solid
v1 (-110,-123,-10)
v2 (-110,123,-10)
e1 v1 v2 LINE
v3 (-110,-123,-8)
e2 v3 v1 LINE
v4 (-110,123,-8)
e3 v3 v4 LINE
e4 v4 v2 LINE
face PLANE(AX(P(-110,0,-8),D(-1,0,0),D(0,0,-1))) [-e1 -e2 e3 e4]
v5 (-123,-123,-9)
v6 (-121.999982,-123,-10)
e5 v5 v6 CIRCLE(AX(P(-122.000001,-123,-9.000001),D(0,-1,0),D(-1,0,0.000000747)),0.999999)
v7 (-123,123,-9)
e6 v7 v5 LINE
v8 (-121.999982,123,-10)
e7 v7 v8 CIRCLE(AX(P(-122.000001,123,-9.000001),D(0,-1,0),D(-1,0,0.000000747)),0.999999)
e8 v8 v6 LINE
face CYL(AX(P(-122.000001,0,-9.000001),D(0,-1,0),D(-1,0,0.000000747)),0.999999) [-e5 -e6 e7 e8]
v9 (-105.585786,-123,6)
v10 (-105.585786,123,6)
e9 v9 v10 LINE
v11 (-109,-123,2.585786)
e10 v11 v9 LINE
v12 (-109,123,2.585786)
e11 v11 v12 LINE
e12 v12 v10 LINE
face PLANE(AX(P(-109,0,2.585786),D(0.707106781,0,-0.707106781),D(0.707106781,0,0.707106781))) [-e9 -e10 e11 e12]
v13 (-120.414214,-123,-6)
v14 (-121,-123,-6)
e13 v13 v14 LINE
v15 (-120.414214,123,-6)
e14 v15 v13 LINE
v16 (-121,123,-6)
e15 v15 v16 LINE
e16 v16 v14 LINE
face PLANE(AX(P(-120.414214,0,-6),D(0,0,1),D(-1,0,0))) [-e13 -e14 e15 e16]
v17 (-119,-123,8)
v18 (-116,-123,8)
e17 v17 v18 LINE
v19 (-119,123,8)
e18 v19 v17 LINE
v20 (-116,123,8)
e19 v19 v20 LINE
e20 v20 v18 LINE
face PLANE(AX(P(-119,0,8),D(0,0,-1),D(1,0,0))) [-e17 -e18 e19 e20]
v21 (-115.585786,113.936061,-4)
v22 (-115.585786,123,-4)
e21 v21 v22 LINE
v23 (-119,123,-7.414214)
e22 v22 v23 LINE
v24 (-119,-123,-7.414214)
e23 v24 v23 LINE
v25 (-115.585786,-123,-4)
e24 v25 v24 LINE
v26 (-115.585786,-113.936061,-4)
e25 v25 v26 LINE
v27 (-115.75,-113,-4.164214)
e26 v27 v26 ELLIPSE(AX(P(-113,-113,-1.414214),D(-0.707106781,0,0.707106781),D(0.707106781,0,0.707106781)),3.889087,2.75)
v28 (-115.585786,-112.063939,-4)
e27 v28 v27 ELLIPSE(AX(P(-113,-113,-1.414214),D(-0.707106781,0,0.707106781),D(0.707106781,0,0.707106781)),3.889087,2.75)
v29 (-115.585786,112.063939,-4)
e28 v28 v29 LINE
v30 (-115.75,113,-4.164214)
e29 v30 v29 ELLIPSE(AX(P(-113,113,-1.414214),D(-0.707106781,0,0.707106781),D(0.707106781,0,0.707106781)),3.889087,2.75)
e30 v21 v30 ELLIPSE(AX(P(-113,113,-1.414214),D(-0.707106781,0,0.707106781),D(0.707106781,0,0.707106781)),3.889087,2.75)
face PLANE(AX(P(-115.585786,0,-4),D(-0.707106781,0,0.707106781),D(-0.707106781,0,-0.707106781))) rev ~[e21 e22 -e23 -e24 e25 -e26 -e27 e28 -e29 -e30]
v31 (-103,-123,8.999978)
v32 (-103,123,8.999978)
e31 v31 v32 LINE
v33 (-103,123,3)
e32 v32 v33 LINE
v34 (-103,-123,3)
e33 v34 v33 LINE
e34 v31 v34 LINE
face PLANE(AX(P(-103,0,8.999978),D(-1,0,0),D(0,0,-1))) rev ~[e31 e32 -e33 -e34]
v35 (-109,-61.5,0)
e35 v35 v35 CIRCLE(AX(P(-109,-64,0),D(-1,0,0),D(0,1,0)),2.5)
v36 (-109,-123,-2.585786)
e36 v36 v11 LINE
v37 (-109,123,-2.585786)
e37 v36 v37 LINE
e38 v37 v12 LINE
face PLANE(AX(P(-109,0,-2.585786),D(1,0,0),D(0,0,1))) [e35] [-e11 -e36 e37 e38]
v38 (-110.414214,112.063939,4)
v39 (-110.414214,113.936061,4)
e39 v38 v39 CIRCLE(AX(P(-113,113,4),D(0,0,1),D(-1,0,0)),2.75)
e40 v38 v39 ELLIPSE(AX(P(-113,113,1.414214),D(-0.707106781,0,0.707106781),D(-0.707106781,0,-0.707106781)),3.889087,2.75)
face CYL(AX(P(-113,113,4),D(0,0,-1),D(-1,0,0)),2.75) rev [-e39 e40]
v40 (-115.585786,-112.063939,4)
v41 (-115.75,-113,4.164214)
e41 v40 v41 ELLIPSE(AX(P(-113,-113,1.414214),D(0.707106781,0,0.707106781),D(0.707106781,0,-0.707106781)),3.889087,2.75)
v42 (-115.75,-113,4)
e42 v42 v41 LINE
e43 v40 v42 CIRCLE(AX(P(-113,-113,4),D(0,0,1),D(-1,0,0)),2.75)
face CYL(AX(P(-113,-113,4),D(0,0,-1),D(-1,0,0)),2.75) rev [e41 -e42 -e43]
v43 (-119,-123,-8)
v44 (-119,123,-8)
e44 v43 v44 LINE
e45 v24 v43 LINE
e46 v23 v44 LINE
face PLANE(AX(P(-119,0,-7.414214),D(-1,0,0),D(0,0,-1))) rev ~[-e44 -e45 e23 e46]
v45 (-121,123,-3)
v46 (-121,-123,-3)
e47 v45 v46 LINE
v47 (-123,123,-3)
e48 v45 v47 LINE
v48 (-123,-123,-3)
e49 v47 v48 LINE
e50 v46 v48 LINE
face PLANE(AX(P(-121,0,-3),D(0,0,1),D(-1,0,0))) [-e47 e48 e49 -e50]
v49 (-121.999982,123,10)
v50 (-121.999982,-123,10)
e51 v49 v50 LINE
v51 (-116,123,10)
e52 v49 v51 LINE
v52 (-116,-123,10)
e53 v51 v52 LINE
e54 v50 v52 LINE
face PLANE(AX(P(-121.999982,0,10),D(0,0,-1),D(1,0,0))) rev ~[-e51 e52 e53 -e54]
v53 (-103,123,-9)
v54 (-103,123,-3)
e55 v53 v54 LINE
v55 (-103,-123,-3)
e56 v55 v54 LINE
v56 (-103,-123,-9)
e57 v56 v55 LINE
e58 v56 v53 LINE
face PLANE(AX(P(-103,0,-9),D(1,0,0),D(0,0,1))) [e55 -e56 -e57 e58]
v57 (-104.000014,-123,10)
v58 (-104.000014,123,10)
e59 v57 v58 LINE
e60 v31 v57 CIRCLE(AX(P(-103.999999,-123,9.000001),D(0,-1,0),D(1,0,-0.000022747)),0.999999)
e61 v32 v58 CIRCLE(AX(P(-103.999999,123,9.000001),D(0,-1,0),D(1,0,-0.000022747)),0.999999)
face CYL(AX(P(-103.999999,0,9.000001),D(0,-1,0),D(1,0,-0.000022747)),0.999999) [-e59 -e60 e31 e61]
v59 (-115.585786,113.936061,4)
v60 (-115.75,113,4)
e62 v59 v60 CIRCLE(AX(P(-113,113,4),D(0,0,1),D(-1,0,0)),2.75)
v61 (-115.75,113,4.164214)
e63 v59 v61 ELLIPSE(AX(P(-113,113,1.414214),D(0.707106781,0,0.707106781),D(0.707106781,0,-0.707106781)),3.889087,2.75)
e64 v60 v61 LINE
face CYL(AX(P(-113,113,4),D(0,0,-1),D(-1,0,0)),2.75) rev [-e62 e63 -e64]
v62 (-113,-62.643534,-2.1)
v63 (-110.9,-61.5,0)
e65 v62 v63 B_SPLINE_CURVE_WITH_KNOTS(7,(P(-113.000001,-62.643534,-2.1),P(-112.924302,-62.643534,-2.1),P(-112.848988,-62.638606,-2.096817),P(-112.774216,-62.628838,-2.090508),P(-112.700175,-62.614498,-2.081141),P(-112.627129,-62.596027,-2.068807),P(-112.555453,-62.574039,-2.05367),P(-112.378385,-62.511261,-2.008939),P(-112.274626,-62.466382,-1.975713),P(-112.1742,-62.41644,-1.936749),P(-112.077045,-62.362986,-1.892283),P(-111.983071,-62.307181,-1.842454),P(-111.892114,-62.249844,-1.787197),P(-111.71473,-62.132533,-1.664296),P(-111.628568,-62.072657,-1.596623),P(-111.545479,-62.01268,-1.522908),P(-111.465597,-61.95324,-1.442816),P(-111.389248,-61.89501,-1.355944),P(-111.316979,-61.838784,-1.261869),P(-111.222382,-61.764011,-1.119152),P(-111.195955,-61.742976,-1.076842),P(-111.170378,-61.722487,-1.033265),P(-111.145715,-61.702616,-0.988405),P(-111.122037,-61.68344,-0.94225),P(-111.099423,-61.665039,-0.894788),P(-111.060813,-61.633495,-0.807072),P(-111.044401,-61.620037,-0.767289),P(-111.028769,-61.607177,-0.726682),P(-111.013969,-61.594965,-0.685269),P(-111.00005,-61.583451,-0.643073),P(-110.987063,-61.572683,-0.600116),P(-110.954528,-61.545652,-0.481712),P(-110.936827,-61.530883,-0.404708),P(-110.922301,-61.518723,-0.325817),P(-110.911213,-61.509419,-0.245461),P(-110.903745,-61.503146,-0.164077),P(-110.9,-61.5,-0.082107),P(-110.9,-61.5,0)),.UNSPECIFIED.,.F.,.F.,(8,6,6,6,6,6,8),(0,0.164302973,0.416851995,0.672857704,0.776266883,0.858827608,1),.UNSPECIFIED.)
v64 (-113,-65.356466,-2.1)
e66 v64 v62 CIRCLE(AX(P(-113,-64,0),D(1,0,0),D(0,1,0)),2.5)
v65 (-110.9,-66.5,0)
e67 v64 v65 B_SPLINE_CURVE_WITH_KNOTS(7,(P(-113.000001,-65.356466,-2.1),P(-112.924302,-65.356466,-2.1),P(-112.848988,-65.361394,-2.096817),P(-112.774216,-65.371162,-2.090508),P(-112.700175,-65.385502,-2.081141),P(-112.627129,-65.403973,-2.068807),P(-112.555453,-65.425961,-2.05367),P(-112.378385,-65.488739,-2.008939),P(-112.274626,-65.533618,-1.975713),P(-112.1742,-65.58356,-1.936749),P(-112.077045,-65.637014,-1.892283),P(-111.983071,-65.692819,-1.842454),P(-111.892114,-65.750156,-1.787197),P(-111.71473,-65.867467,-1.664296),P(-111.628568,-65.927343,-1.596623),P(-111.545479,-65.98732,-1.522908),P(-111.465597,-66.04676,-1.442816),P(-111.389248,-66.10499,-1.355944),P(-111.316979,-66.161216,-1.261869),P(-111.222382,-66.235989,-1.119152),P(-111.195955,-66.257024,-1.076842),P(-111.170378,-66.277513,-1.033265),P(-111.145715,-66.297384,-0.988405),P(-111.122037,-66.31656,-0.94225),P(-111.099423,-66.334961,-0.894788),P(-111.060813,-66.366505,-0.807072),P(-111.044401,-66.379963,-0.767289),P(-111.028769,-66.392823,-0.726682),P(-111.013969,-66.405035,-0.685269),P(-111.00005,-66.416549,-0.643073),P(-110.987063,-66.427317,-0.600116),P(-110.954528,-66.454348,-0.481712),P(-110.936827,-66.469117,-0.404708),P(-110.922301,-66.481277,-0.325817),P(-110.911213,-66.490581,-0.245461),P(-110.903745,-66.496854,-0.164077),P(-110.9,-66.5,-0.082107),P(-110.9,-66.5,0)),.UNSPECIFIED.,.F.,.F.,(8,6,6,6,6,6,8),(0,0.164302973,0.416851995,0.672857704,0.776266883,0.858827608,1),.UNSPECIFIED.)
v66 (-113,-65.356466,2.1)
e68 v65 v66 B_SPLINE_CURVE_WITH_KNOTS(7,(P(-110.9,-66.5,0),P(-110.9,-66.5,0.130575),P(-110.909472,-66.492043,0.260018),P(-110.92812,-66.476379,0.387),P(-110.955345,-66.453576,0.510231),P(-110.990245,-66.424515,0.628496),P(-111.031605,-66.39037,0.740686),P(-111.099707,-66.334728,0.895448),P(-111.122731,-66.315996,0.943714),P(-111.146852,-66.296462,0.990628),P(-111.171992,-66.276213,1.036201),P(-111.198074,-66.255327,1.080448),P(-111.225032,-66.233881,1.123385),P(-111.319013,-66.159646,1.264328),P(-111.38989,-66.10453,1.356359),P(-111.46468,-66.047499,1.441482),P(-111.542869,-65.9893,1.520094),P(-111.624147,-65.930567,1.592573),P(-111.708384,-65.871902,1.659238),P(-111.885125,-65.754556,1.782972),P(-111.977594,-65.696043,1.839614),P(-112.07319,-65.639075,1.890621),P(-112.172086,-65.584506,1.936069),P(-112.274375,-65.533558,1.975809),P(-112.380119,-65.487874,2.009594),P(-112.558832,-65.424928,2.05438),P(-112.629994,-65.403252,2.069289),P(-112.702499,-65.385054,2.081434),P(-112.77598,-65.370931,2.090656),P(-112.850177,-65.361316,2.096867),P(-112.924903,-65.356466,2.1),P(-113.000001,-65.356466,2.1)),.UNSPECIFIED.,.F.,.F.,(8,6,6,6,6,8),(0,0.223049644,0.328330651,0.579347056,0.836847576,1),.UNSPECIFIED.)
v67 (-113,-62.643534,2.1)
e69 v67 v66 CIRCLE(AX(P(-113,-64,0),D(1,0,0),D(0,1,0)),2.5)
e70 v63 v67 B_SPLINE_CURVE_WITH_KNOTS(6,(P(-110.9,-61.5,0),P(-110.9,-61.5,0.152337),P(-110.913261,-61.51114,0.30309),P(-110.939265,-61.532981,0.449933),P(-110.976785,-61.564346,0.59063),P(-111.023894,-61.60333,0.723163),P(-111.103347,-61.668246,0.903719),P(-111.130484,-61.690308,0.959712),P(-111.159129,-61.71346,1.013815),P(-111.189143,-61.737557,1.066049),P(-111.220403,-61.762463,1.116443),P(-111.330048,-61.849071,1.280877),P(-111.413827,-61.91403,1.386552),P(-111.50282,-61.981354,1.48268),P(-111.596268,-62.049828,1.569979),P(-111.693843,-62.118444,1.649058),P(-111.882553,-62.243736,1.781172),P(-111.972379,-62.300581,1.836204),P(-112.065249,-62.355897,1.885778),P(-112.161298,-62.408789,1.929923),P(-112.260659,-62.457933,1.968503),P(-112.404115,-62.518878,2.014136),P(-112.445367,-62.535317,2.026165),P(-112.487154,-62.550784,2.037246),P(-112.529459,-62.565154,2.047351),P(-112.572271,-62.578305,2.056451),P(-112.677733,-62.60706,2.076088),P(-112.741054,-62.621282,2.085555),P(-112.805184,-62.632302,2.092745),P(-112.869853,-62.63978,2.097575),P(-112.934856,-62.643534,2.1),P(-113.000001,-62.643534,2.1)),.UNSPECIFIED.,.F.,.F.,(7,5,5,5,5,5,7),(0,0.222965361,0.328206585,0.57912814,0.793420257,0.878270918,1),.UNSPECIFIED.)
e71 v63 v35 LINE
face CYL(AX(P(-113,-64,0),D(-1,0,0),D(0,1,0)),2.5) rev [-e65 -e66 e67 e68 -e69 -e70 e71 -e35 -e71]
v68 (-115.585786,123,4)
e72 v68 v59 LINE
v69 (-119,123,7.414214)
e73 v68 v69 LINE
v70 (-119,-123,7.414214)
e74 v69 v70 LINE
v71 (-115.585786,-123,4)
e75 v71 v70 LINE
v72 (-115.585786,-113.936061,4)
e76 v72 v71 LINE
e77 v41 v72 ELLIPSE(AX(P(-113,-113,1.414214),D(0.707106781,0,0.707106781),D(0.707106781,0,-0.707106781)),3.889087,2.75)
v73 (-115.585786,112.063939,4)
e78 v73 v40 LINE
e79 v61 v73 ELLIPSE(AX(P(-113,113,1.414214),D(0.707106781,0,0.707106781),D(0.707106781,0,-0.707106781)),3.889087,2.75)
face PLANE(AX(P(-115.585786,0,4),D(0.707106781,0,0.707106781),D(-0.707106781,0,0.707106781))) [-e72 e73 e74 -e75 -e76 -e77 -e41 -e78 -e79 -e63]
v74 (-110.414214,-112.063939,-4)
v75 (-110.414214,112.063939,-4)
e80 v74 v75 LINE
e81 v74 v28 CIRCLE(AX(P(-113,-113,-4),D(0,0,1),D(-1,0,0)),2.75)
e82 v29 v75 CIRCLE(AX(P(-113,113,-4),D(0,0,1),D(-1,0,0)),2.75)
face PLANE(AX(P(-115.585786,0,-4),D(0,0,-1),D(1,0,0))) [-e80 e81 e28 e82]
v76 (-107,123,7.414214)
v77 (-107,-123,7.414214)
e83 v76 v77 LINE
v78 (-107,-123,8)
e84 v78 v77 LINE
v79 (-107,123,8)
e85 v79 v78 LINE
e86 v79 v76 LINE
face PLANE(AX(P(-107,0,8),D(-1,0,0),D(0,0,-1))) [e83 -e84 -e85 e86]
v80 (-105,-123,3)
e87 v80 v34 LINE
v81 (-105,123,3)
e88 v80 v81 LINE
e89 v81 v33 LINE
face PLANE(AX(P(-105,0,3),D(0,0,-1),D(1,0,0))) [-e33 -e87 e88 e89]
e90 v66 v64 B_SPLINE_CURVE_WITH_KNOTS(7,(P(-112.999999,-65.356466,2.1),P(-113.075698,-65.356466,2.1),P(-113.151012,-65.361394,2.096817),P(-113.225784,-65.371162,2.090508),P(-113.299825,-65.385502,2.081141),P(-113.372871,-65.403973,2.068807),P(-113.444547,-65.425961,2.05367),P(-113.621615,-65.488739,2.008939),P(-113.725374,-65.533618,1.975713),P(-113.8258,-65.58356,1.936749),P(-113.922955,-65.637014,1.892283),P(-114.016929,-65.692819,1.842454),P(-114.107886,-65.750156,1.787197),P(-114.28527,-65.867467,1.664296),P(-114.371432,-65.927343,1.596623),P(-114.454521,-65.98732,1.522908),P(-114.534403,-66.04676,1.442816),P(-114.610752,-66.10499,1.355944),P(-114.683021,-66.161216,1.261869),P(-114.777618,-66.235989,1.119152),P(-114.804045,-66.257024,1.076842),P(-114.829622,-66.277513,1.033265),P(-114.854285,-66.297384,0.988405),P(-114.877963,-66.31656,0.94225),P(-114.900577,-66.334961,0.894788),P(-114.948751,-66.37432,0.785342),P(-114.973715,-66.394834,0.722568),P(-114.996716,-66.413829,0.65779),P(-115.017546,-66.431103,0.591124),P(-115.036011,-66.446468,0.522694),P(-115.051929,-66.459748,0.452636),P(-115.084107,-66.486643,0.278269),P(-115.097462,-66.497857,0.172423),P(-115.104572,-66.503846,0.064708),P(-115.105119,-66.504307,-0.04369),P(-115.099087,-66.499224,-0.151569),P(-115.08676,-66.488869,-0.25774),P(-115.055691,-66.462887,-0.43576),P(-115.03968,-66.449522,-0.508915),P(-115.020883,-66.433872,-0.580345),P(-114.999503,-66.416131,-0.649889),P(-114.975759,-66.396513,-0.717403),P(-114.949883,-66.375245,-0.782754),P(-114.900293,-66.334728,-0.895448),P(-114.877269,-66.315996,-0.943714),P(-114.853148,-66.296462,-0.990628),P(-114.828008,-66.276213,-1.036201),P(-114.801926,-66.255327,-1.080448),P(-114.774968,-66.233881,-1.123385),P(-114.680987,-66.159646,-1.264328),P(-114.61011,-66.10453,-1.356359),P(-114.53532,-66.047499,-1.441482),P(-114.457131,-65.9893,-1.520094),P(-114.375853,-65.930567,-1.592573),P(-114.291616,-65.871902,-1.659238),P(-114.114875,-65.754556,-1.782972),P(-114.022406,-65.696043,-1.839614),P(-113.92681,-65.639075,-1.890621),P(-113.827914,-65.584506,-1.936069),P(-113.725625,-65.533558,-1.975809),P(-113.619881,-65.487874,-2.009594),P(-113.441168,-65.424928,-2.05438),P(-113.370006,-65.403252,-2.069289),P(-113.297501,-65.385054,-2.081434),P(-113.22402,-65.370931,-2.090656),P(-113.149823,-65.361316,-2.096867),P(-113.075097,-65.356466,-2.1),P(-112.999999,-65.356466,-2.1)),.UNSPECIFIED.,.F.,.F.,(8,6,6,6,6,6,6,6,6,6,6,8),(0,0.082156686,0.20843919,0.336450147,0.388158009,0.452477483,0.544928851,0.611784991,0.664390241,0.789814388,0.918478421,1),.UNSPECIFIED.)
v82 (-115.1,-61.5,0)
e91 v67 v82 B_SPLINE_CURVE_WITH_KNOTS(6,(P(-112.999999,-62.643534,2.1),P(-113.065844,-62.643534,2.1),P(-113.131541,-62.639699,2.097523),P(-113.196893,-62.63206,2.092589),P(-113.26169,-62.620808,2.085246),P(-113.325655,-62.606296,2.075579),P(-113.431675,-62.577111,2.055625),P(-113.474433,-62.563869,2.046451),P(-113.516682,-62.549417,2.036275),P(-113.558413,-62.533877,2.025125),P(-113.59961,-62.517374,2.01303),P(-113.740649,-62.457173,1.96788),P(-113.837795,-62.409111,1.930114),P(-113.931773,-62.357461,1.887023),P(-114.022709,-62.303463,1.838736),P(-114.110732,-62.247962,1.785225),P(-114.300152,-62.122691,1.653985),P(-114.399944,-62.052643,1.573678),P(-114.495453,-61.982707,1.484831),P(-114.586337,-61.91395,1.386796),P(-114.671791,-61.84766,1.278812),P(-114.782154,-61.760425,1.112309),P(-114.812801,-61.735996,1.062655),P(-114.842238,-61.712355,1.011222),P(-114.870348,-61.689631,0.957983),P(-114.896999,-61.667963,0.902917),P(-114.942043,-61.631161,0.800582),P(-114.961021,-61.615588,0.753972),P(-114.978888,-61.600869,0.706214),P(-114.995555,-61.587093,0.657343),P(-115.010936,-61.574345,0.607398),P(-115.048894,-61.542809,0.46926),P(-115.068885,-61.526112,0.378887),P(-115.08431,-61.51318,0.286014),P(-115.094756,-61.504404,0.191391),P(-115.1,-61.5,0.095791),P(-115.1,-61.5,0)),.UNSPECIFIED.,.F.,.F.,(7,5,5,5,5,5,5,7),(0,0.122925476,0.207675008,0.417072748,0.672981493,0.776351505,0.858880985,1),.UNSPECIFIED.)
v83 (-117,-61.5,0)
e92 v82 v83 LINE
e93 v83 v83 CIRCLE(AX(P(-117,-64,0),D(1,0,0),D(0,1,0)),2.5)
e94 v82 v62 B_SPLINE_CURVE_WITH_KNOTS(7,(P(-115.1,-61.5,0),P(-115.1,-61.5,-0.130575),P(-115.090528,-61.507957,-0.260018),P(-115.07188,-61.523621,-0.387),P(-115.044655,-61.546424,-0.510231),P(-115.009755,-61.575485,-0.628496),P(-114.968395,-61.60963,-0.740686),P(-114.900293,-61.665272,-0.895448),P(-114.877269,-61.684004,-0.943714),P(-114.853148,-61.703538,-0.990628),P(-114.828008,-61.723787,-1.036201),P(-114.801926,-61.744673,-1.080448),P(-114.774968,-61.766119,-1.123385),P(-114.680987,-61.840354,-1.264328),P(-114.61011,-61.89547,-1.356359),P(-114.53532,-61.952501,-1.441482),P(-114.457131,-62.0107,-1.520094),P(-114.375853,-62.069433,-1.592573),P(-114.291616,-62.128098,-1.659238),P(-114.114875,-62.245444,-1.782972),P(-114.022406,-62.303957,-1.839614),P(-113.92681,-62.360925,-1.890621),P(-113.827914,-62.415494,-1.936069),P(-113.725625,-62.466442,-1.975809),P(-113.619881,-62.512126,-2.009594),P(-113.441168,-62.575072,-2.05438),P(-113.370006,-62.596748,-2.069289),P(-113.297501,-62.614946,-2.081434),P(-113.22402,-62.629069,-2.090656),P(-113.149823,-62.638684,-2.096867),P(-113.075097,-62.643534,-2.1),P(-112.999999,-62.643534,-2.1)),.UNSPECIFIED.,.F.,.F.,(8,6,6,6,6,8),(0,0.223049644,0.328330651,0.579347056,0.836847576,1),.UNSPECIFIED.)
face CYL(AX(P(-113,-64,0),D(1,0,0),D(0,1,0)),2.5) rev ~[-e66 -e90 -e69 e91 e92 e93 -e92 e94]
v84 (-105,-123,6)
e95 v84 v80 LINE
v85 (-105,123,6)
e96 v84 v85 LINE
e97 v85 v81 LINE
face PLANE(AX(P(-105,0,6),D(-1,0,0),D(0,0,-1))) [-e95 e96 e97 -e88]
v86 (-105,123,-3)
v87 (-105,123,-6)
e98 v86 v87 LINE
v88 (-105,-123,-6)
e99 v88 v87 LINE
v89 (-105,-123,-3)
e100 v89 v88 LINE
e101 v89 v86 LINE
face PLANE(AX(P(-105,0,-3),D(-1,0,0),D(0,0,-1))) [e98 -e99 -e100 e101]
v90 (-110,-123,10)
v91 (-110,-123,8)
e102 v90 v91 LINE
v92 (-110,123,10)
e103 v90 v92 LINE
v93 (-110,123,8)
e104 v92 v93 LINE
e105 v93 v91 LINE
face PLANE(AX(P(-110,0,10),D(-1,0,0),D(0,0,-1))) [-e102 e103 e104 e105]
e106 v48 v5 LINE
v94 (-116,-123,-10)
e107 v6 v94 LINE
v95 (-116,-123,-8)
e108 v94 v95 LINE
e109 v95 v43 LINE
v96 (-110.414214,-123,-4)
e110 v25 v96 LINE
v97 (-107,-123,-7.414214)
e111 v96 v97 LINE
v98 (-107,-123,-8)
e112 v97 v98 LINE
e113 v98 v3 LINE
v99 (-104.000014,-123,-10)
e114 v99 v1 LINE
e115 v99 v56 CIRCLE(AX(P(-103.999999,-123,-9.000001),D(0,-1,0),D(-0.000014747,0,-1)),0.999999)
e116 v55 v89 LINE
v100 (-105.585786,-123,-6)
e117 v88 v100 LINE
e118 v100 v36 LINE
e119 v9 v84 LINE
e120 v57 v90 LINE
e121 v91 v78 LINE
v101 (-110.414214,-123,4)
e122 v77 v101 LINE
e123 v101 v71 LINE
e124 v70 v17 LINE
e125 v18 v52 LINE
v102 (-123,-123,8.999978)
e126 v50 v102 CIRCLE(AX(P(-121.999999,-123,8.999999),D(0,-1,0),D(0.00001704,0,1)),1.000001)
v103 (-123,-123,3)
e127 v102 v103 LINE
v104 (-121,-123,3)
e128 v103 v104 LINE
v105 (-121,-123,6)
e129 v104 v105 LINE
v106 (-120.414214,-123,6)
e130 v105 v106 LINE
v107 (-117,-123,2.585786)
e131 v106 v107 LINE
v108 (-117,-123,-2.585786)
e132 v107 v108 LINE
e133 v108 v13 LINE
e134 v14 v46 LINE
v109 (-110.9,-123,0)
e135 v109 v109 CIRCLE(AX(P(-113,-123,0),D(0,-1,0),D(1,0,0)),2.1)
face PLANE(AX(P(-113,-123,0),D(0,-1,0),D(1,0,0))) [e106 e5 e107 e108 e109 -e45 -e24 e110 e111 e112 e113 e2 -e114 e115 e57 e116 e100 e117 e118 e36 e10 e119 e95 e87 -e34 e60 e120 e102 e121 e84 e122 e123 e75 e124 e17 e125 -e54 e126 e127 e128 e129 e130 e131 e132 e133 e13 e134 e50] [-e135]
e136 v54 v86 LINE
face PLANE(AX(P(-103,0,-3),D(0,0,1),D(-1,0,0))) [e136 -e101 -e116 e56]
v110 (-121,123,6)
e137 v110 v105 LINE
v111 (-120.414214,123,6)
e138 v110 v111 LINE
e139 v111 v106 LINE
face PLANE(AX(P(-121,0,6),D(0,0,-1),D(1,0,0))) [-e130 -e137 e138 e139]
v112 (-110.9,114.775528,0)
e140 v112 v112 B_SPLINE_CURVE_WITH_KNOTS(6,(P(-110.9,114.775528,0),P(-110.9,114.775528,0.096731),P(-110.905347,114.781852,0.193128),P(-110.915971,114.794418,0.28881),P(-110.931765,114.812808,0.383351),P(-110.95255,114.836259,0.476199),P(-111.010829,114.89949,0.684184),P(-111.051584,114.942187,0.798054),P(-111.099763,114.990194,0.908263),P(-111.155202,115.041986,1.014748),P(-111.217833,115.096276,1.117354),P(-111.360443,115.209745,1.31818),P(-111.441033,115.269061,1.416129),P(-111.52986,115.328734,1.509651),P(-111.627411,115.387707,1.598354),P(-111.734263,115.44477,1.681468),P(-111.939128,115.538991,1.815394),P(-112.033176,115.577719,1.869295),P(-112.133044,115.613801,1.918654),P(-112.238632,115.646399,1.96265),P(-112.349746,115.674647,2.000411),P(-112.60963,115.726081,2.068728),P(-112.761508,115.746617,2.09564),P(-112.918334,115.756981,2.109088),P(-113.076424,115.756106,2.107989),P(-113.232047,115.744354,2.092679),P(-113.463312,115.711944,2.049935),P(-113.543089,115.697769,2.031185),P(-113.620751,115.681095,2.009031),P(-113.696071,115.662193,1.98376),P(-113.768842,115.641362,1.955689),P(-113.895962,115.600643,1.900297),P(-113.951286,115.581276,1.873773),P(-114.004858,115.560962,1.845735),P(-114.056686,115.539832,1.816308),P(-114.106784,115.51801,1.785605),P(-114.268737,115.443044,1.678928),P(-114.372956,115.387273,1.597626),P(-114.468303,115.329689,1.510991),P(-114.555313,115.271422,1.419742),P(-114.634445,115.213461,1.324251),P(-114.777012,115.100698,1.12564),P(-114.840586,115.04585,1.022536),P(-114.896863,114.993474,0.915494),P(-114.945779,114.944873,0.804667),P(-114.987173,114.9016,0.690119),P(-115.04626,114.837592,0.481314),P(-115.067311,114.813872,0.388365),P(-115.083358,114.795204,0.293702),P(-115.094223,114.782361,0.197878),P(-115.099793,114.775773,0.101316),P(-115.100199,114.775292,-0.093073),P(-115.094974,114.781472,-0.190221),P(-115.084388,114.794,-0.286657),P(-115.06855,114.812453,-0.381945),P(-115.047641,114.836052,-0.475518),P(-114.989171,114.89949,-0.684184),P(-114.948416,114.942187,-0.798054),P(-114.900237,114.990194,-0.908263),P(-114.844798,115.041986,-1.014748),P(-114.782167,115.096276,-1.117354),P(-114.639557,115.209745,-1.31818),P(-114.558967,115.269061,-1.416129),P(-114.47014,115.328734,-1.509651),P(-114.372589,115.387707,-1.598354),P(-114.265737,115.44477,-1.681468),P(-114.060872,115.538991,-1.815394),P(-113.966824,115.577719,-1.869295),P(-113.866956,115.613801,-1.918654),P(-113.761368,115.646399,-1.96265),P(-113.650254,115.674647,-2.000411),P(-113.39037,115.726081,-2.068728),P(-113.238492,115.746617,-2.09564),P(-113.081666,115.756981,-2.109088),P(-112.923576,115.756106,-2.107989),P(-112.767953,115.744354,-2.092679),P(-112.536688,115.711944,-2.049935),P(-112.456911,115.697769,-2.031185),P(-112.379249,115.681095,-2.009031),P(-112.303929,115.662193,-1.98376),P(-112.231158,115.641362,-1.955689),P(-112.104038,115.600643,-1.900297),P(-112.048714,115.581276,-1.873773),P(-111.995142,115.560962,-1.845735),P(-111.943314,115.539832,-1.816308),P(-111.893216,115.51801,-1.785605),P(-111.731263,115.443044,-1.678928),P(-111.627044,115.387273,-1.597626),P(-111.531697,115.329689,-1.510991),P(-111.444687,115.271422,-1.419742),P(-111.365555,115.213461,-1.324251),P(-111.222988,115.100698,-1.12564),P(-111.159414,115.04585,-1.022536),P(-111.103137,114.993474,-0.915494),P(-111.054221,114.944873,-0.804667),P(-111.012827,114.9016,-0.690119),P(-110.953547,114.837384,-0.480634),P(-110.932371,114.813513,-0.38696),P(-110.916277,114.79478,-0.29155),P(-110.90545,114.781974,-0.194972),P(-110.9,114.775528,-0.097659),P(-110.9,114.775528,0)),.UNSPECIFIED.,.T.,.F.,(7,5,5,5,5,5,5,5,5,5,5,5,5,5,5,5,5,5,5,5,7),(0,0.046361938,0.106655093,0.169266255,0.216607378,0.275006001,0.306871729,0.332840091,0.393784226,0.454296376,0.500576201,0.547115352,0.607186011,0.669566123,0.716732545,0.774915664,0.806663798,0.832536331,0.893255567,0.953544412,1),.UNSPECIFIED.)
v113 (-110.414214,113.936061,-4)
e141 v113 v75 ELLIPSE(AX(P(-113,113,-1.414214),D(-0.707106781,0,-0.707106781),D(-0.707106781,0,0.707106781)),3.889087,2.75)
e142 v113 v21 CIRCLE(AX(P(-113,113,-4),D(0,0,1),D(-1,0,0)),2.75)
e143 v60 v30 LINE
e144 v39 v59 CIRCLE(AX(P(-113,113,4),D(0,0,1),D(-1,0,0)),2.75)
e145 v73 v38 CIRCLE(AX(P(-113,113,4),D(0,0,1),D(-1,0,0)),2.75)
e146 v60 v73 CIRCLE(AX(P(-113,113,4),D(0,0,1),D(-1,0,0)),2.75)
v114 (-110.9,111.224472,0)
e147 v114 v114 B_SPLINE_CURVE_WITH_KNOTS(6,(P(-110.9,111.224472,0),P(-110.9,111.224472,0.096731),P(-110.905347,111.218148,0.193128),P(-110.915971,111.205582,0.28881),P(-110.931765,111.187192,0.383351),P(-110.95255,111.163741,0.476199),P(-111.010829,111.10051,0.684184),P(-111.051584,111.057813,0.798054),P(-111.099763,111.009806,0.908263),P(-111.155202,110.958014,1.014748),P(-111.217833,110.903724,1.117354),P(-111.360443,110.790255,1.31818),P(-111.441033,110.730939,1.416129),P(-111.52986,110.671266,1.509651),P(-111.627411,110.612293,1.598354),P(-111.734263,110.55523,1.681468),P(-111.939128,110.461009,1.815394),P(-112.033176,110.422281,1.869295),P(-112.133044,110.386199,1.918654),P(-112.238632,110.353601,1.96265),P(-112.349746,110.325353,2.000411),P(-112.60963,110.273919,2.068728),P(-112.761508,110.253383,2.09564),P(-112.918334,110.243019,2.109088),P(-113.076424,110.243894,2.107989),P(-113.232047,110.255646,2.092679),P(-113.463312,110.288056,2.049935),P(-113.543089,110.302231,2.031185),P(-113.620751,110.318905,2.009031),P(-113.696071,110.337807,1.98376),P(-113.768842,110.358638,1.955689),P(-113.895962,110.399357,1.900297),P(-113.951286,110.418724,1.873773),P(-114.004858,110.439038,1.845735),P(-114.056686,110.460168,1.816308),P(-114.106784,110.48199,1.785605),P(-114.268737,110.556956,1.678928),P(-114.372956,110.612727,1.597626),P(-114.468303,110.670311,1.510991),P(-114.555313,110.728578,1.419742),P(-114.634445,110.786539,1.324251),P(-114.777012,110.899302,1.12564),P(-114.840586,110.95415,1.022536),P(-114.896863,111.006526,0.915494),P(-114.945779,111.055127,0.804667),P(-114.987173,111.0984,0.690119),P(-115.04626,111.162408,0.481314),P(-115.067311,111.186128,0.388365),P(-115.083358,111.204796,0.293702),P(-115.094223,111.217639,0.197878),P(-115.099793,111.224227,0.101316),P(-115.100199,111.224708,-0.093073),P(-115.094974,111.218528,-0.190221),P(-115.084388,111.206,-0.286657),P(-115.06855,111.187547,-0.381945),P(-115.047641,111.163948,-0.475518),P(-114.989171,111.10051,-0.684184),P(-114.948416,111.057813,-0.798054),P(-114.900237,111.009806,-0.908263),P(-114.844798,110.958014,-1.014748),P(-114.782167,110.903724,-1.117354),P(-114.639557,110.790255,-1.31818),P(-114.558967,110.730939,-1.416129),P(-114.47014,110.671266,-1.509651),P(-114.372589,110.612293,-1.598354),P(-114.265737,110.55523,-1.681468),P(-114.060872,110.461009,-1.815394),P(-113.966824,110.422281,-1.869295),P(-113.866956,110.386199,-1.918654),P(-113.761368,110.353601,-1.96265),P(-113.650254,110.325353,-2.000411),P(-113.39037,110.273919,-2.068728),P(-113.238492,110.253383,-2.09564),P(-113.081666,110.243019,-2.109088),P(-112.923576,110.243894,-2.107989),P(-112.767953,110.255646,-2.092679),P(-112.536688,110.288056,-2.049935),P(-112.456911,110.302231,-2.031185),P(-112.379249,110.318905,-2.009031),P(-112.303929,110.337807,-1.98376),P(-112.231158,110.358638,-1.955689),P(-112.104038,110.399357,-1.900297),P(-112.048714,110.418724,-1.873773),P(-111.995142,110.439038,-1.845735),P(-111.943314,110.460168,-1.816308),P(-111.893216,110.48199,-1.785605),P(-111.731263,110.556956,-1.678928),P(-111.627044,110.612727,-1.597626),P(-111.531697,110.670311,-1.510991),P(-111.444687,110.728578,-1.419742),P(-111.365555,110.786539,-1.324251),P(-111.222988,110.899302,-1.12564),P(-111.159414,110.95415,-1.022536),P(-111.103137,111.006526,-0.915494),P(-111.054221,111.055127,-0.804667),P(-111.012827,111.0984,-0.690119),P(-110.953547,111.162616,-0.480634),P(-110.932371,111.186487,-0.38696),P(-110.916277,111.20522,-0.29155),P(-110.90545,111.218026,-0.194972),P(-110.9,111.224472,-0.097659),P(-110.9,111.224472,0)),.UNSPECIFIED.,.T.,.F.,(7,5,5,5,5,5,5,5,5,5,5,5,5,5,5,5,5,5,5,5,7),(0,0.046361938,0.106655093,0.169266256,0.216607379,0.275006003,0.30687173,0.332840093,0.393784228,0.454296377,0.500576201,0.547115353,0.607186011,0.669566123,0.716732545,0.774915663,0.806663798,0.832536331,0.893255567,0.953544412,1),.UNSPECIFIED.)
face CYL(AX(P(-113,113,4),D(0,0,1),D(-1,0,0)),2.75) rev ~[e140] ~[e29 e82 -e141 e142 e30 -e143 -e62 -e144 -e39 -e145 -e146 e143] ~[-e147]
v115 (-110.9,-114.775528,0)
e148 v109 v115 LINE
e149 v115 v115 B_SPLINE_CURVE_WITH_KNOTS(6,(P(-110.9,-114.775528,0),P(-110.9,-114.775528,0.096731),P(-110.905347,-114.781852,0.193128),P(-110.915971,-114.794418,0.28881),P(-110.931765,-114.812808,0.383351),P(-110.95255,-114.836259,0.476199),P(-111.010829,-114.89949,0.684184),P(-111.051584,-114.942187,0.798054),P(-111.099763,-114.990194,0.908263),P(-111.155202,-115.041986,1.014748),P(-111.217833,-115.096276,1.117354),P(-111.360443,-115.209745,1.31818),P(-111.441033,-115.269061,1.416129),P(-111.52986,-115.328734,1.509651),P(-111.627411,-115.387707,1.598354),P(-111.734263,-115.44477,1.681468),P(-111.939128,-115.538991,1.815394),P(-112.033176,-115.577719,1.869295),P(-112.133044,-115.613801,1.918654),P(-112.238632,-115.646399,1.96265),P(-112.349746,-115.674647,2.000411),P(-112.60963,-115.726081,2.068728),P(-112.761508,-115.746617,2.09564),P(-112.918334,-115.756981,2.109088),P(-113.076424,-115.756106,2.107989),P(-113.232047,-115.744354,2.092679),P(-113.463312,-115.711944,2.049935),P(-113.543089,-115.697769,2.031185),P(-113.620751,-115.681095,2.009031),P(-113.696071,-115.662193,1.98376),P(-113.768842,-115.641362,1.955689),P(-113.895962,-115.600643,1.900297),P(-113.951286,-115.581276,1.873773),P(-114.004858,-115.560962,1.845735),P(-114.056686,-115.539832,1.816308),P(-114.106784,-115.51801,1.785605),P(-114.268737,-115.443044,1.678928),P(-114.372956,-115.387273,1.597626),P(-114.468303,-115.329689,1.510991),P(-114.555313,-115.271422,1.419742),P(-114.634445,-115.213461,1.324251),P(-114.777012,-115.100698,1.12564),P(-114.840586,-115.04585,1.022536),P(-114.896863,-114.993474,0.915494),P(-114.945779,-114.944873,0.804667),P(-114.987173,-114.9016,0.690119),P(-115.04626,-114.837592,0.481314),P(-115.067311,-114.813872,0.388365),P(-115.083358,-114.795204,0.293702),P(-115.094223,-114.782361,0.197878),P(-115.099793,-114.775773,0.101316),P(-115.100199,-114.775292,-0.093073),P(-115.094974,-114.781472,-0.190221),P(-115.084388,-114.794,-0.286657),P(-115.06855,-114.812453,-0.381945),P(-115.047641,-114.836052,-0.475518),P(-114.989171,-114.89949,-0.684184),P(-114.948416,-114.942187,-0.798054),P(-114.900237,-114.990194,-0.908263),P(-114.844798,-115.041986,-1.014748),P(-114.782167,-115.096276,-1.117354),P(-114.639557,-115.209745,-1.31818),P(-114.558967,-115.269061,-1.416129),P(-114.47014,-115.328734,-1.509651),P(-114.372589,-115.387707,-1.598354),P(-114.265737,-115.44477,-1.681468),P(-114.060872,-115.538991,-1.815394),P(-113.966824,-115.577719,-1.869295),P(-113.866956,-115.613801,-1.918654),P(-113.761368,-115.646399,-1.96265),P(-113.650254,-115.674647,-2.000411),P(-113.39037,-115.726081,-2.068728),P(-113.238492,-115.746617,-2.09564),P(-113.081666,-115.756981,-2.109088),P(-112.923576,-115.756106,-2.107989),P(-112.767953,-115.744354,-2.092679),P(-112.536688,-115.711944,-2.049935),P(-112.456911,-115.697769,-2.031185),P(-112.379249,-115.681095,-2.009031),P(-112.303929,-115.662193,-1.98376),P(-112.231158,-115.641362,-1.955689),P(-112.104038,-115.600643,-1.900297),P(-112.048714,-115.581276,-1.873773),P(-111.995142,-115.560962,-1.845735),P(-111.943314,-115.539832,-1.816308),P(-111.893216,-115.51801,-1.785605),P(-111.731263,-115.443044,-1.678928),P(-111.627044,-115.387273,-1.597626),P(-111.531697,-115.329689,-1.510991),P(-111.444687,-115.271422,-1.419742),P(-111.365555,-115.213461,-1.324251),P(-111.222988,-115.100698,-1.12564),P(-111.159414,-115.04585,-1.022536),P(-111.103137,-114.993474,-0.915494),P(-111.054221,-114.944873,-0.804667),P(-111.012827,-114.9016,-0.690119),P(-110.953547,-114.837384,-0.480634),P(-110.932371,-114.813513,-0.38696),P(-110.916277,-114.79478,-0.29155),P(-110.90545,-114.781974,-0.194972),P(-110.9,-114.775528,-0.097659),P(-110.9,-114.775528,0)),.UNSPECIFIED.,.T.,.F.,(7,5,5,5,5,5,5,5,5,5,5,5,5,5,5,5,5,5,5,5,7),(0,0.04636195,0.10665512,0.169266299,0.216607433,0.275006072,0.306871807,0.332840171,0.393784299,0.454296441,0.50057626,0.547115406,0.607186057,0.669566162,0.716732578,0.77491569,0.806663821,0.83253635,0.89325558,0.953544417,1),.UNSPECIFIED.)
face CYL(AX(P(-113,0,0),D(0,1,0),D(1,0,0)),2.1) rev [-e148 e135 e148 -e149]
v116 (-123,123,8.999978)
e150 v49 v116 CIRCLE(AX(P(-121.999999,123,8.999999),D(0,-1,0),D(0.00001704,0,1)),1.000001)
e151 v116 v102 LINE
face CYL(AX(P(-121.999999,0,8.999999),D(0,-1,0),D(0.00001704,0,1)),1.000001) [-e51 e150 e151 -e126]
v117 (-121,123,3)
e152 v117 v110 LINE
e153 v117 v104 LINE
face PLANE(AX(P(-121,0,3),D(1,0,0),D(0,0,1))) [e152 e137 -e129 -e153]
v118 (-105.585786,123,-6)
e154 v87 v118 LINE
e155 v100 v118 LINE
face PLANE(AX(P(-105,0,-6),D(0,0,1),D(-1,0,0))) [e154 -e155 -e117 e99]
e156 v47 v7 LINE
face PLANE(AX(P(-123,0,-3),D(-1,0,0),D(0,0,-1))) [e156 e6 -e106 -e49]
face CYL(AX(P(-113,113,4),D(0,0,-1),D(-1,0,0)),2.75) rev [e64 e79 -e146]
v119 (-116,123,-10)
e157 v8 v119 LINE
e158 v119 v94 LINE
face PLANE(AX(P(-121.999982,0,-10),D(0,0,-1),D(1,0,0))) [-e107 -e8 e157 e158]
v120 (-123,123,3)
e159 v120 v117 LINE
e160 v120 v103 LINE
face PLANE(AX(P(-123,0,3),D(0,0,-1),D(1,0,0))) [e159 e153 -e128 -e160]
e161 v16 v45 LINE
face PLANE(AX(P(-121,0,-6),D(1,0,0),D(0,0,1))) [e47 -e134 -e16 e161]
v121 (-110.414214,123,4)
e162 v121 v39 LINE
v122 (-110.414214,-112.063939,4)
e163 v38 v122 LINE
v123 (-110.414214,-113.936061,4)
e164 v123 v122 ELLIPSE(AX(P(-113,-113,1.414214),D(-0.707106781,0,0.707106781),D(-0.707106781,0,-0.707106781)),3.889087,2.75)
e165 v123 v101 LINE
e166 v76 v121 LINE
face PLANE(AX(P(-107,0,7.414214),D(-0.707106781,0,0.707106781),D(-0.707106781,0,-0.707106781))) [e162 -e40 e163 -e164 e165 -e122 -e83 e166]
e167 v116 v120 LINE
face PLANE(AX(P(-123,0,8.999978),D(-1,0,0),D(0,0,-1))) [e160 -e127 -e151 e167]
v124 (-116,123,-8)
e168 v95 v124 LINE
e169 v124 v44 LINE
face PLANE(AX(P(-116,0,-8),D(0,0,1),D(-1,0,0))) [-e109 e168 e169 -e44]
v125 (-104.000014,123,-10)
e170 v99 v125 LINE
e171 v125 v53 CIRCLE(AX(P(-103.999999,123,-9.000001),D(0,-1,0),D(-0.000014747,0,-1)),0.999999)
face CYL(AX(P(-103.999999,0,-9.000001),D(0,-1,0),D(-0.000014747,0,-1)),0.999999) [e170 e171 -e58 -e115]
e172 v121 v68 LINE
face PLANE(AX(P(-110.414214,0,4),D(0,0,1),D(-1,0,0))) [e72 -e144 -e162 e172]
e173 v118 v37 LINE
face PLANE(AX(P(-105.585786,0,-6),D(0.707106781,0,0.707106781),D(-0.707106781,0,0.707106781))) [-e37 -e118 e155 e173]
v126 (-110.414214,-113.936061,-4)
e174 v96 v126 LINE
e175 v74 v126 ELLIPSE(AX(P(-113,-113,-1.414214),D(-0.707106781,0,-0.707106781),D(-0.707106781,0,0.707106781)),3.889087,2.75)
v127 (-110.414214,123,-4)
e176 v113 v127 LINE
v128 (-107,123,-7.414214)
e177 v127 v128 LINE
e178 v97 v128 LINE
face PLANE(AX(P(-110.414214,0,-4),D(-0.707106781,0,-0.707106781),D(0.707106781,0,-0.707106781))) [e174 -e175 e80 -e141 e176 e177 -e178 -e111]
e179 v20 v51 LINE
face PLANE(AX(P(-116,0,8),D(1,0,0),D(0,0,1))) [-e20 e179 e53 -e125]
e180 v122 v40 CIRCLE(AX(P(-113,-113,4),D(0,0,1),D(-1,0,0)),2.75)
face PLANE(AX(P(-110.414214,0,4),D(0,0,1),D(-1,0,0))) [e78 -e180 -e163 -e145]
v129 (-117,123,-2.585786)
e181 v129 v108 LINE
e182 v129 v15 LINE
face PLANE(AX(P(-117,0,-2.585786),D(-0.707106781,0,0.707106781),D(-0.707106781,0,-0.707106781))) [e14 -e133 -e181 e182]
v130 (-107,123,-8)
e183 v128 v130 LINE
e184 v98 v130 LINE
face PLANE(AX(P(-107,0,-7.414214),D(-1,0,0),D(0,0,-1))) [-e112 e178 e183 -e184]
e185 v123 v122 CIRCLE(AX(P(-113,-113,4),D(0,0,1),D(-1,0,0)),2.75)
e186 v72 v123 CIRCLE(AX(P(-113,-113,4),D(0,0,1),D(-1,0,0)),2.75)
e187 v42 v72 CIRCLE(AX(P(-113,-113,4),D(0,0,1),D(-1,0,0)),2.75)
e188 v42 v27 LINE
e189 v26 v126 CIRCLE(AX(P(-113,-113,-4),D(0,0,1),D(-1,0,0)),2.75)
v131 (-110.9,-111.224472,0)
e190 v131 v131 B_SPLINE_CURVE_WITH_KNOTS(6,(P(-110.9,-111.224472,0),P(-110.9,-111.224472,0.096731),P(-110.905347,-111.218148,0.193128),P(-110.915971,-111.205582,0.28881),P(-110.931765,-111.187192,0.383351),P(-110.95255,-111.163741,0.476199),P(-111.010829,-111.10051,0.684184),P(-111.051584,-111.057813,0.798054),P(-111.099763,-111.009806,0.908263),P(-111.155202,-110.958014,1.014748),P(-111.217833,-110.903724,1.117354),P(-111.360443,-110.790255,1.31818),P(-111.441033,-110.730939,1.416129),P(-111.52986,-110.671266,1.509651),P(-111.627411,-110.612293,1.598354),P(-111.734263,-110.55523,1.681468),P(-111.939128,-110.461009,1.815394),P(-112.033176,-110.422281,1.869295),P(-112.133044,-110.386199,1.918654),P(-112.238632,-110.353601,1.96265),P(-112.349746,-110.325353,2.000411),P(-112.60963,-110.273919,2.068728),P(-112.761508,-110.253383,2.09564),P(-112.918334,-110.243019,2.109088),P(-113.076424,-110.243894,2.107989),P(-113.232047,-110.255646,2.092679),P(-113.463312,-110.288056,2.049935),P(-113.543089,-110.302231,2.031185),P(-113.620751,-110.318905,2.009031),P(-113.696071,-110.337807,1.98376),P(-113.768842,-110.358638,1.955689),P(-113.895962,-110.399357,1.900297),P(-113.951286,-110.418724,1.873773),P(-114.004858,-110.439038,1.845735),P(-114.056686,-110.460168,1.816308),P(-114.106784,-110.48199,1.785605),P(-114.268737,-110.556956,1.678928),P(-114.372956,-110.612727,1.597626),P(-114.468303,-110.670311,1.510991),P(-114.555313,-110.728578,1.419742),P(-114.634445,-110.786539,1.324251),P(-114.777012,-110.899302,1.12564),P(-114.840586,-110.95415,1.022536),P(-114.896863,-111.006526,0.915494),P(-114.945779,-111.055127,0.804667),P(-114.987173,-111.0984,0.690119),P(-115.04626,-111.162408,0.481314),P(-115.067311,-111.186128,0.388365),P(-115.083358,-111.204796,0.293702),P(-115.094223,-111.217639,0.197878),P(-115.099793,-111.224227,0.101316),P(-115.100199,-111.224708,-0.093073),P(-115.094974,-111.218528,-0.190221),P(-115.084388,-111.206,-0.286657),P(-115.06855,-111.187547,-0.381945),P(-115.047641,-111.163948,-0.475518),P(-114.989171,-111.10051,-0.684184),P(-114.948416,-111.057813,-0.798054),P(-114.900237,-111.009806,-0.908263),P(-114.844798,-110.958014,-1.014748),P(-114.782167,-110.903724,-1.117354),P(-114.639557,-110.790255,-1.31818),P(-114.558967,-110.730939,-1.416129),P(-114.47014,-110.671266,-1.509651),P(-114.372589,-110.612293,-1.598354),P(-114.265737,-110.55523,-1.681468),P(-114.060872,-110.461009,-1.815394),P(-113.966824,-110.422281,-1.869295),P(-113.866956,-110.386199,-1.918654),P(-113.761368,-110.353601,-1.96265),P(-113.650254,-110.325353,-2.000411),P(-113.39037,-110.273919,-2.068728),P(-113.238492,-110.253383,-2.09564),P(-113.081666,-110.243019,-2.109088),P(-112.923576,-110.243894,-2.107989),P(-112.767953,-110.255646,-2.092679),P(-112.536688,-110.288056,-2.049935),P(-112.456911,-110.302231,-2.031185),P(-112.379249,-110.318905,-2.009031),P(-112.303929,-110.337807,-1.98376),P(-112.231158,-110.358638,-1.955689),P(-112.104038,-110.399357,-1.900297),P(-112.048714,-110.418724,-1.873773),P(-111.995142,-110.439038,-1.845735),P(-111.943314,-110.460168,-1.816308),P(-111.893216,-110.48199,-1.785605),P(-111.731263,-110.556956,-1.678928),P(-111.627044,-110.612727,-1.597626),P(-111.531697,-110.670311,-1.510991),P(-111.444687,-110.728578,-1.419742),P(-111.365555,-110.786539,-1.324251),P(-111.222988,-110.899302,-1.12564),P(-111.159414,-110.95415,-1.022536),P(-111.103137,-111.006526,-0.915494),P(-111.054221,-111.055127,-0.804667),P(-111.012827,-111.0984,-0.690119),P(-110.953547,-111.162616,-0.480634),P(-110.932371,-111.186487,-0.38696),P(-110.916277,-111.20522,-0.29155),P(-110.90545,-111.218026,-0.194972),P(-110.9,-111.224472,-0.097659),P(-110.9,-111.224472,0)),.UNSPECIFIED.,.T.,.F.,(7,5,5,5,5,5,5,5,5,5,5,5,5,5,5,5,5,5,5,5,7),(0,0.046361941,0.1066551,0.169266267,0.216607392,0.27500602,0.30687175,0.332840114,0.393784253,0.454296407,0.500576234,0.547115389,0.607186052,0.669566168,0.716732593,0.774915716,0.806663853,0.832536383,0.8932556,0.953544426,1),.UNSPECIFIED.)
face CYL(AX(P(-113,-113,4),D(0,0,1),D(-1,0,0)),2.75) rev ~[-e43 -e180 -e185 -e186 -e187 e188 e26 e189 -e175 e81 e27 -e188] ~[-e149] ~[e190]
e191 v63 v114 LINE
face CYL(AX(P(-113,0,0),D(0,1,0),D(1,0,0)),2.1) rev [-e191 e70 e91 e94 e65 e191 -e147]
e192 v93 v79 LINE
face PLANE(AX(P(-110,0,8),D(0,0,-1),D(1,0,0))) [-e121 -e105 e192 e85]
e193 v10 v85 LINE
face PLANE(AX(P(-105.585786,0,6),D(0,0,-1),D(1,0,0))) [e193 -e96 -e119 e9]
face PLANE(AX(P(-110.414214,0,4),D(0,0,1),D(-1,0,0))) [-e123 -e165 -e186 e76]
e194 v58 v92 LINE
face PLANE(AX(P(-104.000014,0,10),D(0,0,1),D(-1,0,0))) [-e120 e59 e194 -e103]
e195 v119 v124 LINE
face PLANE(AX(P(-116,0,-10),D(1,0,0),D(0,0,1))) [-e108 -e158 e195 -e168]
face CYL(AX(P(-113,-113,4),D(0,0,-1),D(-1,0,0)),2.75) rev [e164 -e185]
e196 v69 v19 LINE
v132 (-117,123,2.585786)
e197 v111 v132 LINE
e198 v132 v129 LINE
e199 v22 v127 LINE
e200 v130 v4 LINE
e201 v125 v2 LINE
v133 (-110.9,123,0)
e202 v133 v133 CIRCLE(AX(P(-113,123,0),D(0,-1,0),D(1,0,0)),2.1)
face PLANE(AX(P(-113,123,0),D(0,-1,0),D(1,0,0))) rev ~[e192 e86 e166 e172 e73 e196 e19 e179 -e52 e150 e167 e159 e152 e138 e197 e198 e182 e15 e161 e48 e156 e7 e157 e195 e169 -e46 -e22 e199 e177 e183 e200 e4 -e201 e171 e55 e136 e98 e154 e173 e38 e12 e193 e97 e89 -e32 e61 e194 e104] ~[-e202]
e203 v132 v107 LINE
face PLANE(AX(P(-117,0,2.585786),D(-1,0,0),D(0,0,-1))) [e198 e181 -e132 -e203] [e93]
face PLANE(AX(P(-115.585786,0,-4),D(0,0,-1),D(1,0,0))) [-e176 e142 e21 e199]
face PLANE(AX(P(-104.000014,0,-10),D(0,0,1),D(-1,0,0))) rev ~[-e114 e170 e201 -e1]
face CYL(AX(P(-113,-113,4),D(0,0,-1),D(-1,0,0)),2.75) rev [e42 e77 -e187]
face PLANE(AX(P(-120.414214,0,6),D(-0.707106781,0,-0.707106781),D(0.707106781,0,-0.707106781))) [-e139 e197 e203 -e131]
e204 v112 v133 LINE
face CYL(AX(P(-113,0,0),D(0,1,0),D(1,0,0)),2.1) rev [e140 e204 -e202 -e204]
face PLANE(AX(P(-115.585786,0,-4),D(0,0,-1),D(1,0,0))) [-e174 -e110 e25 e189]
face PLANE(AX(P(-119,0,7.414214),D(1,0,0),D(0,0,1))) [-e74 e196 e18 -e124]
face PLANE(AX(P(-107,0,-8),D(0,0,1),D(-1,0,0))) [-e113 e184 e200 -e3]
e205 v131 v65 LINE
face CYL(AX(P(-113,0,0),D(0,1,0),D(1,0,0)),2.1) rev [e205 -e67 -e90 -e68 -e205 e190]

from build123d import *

# Parameters (mm, degrees)
SKETCH044_R          = 2.1
PAD023_DEPTH         = 123
SKETCH054_R          = 2.5
POCKET010_DEPTH      = 10.001
POCKET010_DEPTH_BACK = 10.001
SKETCH094_R          = 2.75
POCKET037_DEPTH      = 14.001
POCKET037_DEPTH_BACK = 6.001


with BuildPart() as part:
    # Sketch044 → Pad023 (new body, symmetric)
    with BuildSketch(Plane.XZ):
        with BuildLine():
            Line((3, 10), (3, 8))
            Line((3, 8), (6, 8))
            Line((6, 8), (6, 7.414214))
            Line((6, 7.414214), (2.585786, 4))
            Line((2.585786, 4), (-2.585786, 4))
            Line((-2.585786, 4), (-6, 7.414214))
            Line((-6, 7.414214), (-6, 8))
            Line((-6, 8), (-3, 8))
            Line((-3, 8), (-3, 10))
            Line((-8.999982, 10), (-3, 10))
            ThreePointArc((-8.999982, 10), (-9.707108, 9.707105), (-10, 8.999978))
            Line((-10, 8.999978), (-10, 3))
            Line((-10, 3), (-8, 3))
            Line((-8, 3), (-8, 6))
            Line((-8, 6), (-7.414214, 6))
            Line((-7.414214, 6), (-4, 2.585786))
            Line((-4, 2.585786), (-4, -2.585786))
            Line((-4, -2.585786), (-7.414214, -6))
            Line((-7.414214, -6), (-8, -6))
            Line((-8, -6), (-8, -3))
            Line((-8, -3), (-10, -3))
            Line((-10, -3), (-10, -9))
            ThreePointArc((-10, -9), (-9.707101, -9.707113), (-8.999982, -10))
            Line((-8.999982, -10), (-3, -10))
            Line((-3, -10), (-3, -8))
            Line((-3, -8), (-6, -8))
            Line((-6, -7.414214), (-6, -8))
            Line((-2.585786, -4), (-6, -7.414214))
            Line((-2.585786, -4), (2.585786, -4))
            Line((2.585786, -4), (6, -7.414214))
            Line((6, -7.414214), (6, -8))
            Line((6, -8), (3, -8))
            Line((3, -8), (3, -10))
            Line((8.999986, -10), (3, -10))
            ThreePointArc((8.999986, -10), (9.707102, -9.707112), (10, -9))
            Line((10, -9), (10, -3))
            Line((10, -3), (8, -3))
            Line((8, -3), (8, -6))
            Line((8, -6), (7.414214, -6))
            Line((7.414214, -6), (4, -2.585786))
            Line((4, -2.585786), (4, 2.585786))
            Line((4, 2.585786), (7.414214, 6))
            Line((7.414214, 6), (8, 6))
            Line((8, 6), (8, 3))
            Line((8, 3), (10, 3))
            Line((10, 8.999978), (10, 3))
            ThreePointArc((10, 8.999978), (9.70711, 9.707104), (8.999986, 10))
            Line((8.999986, 10), (3, 10))
        make_face()
        Circle(SKETCH044_R, mode=Mode.SUBTRACT)
    extrude(amount=PAD023_DEPTH, both=True)

    # Sketch054 → Pocket010 (cut, two sides)
    with BuildSketch(Plane.YZ) as pocket010_sk:
        with Locations((-64, 0)):
            Circle(SKETCH054_R)
    extrude(amount=-POCKET010_DEPTH, mode=Mode.SUBTRACT)
    extrude(pocket010_sk.sketch, amount=POCKET010_DEPTH_BACK, mode=Mode.SUBTRACT)

    # Sketch094 (on Face7 of Pad023) → Pocket037 (cut, two sides)
    with BuildSketch(Plane(origin=(0, 0, 4), x_dir=(-1, 0, 0), z_dir=(0, 0, 1))) as pocket037_sk:
        with Locations((0, 113)):
            Circle(SKETCH094_R)
        with Locations((0, -113)):
            Circle(SKETCH094_R)
    extrude(amount=-POCKET037_DEPTH, mode=Mode.SUBTRACT)
    extrude(pocket037_sk.sketch, amount=POCKET037_DEPTH_BACK, mode=Mode.SUBTRACT)


with BuildPart() as part_1:
    # Body024 placement: moved
    add(part.part.moved(Location((113, 0, 0))))


with BuildPart() as part_2:
    # Clone placement: moved
    add(part_1.part.moved(Location((-113, 0, 0))))


with BuildPart() as part_3:
    # Body026 placement: moved
    add(part_2.part.moved(Location((-113, 0, 0))))


solid = part_3.part
